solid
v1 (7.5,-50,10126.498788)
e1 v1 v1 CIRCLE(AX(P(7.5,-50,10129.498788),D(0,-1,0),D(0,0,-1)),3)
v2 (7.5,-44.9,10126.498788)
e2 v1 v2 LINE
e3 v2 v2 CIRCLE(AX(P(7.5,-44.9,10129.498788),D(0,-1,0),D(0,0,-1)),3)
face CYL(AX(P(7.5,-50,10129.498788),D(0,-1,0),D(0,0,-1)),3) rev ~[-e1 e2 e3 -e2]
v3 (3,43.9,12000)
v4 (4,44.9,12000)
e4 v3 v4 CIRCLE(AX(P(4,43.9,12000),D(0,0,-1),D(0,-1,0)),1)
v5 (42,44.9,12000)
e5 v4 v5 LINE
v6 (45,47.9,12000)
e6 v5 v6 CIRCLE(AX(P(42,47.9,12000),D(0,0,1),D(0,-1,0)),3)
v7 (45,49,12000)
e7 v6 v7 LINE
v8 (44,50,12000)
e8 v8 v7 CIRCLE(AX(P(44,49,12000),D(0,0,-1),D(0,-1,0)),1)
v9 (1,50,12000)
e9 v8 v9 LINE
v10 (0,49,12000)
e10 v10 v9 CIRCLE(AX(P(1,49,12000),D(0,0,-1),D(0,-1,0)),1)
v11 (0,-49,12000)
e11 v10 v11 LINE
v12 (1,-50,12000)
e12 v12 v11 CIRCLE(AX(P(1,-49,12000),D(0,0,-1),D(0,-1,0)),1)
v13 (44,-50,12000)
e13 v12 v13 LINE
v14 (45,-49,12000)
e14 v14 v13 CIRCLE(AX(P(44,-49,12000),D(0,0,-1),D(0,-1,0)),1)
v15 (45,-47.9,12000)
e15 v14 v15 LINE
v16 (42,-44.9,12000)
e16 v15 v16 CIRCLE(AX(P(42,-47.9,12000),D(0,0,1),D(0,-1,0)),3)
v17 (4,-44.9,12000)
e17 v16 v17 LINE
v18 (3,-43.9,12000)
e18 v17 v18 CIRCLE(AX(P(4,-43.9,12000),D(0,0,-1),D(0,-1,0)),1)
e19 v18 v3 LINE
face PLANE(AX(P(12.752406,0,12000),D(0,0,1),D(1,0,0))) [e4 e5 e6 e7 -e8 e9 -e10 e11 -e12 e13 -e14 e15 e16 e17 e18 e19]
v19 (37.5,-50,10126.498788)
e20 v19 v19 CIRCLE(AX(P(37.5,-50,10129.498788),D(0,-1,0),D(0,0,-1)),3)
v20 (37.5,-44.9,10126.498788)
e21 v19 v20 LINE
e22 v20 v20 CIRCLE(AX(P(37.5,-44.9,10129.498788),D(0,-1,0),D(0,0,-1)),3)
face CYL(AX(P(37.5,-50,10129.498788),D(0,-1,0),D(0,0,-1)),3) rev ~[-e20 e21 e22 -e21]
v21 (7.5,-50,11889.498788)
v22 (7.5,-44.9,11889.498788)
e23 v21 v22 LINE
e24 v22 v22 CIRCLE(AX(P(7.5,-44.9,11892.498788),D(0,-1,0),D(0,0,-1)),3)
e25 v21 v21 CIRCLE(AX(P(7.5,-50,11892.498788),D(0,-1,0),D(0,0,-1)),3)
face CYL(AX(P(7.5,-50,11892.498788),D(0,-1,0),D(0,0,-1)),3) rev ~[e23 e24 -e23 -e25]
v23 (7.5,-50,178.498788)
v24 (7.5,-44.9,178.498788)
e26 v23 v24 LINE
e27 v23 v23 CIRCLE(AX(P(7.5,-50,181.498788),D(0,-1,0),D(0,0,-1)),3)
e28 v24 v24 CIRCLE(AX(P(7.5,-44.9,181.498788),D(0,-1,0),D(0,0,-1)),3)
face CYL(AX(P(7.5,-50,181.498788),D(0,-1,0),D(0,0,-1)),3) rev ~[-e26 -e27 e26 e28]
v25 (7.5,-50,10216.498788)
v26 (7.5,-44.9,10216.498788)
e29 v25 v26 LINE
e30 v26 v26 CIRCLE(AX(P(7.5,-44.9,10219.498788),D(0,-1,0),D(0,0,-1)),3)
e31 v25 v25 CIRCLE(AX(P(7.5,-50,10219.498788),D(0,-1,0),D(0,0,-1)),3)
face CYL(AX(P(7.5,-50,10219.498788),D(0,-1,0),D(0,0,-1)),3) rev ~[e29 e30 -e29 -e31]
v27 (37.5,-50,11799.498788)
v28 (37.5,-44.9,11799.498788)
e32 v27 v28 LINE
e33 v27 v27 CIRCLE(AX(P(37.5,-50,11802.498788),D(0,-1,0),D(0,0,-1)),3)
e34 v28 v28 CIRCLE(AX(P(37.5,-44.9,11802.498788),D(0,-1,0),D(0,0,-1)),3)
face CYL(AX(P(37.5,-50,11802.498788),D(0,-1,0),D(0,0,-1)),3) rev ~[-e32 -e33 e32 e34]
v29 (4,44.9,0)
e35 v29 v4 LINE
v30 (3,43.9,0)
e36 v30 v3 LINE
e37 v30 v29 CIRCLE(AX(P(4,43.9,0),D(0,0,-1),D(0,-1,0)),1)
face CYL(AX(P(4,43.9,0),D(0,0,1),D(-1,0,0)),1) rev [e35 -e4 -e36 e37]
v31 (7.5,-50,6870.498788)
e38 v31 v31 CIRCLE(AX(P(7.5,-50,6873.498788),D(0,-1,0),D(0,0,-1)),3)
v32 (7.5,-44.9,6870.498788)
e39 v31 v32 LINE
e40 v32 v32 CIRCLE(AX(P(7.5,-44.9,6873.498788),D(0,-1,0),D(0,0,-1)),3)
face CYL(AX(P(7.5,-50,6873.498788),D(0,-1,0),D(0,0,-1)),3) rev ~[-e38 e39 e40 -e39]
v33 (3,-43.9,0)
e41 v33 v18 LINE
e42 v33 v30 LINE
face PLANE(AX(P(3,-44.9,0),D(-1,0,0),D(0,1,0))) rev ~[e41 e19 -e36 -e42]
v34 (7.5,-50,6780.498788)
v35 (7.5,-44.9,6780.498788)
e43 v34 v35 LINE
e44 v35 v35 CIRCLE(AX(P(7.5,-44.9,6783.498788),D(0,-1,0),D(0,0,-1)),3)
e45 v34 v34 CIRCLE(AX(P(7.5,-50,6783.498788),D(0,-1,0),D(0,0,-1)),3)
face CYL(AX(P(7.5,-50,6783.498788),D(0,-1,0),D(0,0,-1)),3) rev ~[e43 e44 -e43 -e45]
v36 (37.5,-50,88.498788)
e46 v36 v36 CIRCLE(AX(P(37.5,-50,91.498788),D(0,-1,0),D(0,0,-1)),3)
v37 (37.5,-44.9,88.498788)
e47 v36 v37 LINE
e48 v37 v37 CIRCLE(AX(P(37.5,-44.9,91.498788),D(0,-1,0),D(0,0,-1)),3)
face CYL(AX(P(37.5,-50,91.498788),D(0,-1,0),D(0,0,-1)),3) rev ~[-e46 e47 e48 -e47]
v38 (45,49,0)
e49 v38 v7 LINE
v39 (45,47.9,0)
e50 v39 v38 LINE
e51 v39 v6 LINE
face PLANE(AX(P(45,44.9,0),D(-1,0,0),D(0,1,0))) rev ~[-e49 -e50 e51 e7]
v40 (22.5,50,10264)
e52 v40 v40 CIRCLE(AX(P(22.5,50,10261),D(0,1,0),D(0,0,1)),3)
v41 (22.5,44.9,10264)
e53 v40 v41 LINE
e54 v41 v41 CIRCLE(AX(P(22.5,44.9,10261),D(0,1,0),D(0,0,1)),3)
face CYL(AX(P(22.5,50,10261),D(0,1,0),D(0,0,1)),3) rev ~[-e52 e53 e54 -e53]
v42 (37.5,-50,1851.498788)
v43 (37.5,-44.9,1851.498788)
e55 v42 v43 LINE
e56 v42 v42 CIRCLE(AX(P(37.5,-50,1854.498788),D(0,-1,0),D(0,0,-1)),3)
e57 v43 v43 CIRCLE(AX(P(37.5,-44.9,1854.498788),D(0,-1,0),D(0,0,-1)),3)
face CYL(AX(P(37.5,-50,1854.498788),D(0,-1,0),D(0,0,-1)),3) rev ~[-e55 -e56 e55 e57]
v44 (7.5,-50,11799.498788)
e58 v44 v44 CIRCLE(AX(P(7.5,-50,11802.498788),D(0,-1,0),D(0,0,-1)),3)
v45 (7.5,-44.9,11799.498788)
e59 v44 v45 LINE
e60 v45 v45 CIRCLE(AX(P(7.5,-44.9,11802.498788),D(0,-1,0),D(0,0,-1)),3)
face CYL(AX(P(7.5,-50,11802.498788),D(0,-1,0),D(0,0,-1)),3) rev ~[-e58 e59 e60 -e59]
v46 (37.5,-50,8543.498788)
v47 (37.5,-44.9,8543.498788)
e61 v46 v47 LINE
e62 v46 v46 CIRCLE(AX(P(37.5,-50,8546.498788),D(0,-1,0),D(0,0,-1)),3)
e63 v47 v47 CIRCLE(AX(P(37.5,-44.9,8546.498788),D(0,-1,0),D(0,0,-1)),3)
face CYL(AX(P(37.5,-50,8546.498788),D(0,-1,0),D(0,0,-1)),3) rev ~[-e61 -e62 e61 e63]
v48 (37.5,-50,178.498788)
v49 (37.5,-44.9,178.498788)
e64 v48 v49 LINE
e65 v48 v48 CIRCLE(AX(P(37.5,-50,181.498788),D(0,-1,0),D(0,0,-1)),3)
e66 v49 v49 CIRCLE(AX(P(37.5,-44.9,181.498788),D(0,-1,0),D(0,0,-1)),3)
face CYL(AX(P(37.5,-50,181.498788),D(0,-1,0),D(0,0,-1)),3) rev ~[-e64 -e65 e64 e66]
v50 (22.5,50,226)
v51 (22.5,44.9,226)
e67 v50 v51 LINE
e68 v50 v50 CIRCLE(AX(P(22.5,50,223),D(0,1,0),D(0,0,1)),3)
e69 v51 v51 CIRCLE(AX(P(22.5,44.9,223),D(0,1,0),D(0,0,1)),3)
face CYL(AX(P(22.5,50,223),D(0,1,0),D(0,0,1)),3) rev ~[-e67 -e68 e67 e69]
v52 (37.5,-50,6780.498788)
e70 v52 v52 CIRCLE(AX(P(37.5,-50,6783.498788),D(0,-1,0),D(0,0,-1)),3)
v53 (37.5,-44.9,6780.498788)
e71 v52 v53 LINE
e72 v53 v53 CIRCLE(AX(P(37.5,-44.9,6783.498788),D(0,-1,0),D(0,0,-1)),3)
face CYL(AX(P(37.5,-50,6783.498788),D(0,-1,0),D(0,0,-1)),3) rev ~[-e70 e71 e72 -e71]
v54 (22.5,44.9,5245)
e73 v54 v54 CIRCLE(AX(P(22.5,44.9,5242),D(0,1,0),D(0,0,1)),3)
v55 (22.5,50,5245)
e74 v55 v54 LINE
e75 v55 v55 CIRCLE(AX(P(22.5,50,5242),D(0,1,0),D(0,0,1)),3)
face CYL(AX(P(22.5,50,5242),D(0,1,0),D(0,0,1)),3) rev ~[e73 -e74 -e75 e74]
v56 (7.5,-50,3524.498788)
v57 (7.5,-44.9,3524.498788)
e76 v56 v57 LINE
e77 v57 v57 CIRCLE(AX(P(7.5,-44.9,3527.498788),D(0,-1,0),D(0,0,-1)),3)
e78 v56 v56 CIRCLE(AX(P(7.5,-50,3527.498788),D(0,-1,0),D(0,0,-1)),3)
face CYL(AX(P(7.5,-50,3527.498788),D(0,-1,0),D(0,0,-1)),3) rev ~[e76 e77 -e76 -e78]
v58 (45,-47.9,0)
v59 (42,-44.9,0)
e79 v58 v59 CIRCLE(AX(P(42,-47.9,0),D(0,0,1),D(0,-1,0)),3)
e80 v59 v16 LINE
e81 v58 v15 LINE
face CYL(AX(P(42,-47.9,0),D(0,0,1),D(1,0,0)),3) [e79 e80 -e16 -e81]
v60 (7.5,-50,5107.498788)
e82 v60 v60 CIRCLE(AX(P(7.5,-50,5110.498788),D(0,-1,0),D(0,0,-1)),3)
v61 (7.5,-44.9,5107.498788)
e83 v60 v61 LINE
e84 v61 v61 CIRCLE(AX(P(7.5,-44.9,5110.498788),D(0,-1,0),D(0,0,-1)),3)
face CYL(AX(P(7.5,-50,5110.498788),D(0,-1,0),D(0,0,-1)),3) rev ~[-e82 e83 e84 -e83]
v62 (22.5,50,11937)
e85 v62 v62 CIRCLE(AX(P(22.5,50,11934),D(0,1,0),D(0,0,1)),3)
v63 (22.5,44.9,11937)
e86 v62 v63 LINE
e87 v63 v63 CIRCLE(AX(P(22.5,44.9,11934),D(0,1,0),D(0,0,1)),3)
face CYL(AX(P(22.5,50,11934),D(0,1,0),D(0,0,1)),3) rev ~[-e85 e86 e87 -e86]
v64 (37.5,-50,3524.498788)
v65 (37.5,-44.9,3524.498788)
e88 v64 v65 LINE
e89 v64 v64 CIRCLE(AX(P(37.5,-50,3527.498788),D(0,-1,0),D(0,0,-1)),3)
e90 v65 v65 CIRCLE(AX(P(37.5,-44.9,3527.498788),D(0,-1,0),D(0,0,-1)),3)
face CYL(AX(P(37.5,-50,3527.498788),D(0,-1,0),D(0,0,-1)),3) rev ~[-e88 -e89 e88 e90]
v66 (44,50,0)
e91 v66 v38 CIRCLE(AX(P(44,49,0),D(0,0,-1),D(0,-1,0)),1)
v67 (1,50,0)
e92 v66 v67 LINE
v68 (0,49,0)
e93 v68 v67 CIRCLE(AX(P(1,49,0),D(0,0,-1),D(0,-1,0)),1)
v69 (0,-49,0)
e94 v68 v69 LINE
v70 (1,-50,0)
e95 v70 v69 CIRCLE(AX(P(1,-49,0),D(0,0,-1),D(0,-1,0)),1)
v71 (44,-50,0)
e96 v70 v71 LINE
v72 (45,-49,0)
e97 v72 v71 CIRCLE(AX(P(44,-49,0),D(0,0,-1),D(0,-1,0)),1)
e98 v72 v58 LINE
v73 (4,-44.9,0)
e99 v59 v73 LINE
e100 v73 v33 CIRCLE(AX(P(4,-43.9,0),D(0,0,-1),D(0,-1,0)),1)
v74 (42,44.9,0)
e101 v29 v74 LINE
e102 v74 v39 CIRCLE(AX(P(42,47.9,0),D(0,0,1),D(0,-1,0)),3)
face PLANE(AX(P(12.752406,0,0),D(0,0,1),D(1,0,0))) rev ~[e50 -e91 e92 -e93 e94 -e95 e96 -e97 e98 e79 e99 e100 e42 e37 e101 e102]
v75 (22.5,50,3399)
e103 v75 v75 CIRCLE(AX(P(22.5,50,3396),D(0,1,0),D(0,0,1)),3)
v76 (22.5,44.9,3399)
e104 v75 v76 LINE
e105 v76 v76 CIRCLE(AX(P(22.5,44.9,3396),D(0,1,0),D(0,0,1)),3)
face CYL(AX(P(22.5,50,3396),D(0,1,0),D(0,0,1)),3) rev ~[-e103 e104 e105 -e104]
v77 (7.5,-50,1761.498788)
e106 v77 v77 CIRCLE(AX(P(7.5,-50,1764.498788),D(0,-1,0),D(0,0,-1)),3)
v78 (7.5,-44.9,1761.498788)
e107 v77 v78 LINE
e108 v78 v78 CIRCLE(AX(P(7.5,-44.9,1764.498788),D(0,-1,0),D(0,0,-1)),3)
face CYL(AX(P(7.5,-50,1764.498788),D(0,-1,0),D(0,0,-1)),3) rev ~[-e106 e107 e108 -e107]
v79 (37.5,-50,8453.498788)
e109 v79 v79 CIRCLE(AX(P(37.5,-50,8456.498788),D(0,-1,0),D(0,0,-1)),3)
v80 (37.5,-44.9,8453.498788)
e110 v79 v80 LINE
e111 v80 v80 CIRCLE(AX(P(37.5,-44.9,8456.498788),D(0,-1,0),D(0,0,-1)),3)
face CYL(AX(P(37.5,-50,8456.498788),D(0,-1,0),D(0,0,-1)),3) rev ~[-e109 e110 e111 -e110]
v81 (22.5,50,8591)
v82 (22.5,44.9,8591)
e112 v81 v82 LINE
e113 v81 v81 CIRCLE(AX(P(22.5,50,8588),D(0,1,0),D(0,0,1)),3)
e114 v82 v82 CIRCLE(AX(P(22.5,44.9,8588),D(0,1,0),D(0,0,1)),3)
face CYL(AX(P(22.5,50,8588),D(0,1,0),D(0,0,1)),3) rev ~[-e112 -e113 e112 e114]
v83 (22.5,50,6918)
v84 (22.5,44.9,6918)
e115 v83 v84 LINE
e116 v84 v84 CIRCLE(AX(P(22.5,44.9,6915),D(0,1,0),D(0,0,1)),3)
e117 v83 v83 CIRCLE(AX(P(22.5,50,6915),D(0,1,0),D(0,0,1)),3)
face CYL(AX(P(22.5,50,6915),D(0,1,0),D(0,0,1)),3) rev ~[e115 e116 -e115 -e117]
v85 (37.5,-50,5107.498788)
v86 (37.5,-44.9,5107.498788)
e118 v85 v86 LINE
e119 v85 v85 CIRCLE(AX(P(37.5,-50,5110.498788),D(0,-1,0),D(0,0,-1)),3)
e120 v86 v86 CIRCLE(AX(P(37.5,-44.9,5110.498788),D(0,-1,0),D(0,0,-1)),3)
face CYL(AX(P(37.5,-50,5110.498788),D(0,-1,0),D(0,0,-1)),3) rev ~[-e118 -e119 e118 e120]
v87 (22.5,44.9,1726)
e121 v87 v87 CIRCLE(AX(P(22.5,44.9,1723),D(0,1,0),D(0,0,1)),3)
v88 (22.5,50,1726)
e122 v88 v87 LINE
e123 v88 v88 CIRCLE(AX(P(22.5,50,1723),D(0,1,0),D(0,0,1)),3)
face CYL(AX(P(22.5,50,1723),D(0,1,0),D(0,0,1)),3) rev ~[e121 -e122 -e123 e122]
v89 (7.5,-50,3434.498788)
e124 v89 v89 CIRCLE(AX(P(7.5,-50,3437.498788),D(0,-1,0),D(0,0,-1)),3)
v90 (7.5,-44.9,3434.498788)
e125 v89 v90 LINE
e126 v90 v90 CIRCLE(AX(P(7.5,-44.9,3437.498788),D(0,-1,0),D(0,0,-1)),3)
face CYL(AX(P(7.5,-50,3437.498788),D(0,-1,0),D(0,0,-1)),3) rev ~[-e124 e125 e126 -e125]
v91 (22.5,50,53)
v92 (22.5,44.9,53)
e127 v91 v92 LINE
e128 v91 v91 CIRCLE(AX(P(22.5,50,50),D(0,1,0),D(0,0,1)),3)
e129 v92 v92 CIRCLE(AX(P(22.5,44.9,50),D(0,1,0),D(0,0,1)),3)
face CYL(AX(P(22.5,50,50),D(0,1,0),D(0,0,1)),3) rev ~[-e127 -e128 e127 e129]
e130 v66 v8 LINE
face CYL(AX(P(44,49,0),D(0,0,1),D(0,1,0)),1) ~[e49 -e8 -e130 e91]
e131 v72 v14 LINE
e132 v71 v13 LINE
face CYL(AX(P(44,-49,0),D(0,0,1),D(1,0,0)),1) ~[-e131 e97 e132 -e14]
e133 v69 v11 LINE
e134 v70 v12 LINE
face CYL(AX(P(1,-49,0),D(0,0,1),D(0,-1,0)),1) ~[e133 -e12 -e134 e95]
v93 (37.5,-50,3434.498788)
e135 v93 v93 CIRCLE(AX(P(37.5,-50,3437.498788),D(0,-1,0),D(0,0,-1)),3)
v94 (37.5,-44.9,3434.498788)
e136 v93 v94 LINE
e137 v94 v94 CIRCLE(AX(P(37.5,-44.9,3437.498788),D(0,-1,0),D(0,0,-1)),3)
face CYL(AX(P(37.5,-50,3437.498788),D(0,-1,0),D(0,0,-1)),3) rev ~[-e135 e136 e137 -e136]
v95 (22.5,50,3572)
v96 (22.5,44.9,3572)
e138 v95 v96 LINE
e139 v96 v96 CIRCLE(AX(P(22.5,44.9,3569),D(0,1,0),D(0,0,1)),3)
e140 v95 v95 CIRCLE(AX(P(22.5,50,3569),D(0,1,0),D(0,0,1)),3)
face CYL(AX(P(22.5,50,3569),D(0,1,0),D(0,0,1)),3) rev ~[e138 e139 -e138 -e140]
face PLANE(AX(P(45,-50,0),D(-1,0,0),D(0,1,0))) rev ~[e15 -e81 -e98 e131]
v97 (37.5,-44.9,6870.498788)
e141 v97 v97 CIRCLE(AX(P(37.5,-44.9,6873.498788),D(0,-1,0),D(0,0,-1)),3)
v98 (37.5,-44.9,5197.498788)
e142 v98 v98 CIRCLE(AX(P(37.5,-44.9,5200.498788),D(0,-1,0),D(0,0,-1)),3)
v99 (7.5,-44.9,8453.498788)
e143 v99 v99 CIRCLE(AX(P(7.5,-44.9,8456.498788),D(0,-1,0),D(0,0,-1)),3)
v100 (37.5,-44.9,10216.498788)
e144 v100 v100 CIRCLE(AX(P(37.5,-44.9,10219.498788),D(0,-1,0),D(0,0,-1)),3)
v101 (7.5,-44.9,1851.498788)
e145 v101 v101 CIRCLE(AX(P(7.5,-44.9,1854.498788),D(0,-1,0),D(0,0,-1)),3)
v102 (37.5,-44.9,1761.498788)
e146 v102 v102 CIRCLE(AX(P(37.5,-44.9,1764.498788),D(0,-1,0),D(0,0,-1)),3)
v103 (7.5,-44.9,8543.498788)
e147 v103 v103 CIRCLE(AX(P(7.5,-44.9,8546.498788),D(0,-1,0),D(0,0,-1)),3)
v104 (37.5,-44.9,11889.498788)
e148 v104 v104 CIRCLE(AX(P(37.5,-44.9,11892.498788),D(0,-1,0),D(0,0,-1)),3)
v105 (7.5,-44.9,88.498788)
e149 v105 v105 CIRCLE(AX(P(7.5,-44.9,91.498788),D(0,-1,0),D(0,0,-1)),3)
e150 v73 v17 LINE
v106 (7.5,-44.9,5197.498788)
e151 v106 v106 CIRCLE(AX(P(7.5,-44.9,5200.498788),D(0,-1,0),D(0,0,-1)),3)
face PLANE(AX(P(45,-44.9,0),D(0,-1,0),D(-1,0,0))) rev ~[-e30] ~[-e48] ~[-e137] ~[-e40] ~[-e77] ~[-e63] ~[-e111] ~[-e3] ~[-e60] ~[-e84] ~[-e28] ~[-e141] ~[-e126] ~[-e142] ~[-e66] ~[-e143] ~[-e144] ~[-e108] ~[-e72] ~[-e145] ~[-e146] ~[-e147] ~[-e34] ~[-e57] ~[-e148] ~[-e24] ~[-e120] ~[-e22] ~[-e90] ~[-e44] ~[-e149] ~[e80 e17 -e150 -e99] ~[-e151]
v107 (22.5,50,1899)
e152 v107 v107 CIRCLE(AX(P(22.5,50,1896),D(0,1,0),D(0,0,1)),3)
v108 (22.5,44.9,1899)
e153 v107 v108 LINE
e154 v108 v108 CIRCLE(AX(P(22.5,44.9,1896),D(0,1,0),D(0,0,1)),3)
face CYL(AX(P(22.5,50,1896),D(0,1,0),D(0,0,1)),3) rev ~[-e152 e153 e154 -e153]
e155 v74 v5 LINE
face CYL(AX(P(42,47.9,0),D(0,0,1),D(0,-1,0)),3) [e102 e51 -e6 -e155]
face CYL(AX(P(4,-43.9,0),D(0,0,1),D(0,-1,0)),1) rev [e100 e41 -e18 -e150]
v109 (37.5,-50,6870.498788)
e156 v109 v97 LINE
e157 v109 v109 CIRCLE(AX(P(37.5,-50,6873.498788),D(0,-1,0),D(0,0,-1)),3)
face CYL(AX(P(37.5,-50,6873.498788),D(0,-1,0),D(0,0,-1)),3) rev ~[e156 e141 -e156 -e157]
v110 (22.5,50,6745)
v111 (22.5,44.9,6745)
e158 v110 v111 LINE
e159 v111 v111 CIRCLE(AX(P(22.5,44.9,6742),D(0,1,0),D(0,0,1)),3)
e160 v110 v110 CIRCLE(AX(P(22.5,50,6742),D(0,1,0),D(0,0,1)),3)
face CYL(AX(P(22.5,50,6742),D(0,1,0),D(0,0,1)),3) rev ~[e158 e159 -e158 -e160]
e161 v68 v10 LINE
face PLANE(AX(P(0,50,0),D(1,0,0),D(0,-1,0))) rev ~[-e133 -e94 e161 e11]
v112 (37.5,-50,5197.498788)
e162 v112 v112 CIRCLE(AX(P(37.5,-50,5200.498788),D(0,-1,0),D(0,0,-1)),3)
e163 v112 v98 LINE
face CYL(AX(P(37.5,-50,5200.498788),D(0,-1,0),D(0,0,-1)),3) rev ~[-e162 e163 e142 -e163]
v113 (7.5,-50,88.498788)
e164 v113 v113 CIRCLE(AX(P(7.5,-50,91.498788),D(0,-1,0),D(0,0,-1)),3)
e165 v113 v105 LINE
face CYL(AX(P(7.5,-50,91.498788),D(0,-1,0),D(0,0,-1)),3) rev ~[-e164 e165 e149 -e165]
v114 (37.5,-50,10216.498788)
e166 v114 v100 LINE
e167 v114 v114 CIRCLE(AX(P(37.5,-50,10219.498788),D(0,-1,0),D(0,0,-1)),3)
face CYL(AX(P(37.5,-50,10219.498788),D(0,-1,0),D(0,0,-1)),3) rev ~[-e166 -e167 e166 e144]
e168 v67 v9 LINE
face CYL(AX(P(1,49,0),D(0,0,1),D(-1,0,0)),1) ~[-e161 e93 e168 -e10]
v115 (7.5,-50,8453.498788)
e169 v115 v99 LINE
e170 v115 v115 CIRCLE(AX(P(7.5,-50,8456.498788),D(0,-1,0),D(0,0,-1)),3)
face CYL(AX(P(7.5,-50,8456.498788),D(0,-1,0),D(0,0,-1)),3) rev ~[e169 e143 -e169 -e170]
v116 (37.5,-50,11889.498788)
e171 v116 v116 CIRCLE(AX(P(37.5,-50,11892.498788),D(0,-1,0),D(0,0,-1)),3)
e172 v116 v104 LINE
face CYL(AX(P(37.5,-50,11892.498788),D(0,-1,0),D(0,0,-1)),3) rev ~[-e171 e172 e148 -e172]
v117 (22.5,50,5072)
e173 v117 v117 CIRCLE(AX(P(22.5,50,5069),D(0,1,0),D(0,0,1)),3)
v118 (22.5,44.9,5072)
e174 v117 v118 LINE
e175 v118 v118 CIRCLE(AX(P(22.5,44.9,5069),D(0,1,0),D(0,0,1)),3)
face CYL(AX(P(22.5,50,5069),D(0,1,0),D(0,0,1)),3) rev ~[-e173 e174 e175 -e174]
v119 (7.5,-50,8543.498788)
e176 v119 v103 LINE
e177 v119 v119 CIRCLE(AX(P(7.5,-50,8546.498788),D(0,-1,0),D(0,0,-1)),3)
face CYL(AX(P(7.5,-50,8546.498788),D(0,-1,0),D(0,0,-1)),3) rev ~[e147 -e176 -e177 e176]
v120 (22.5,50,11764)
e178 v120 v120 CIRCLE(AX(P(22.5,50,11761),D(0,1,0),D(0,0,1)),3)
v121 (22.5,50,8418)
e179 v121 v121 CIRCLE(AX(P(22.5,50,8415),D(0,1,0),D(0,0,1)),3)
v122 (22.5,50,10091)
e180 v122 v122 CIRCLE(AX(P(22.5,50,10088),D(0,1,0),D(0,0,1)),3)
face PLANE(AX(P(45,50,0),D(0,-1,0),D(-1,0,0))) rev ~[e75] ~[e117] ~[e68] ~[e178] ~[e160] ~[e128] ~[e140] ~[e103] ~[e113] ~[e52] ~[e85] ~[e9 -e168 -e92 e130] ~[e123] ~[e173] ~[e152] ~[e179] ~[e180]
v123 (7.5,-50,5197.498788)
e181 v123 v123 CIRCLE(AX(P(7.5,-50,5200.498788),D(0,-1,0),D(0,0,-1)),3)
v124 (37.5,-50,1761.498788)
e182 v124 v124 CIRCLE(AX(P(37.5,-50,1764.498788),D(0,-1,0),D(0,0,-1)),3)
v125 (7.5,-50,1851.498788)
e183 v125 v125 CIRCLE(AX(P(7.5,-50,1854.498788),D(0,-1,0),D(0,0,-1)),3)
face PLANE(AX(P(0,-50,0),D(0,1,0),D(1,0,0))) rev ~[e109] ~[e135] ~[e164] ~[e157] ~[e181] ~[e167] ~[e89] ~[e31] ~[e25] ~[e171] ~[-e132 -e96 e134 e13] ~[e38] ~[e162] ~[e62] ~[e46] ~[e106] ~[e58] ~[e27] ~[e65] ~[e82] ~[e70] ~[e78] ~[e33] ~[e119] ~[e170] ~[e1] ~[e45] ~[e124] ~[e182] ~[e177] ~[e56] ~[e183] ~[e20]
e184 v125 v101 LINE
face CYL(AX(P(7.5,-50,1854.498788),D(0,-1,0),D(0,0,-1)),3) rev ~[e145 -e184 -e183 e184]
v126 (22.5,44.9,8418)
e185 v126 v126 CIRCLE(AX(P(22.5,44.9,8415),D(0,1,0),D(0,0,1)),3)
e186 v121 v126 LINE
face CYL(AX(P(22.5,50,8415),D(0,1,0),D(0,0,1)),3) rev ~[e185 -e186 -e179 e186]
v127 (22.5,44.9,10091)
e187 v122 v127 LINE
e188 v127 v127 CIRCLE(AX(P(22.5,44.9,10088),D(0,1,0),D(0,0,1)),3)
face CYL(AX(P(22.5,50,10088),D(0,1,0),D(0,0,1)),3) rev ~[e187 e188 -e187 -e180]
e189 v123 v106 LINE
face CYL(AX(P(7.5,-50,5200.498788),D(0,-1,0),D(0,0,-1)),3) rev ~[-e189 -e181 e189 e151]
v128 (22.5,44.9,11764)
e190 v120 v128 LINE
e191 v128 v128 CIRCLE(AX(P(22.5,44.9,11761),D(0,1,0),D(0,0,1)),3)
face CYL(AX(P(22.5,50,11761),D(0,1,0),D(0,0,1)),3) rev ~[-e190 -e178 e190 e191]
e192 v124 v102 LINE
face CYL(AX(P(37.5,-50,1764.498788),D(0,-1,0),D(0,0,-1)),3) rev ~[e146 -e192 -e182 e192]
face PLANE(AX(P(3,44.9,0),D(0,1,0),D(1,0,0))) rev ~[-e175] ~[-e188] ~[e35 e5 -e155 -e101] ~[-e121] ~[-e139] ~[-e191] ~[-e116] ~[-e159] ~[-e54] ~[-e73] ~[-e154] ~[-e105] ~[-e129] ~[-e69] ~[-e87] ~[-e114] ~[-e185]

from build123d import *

# Parameters (mm, degrees)
BOSS_EXTRUDE1_DEPTH = 12000
FILLET1_R           = 3
FILLET2_R           = 1
FILLET3_R           = 1
CUT_EXTRUDE2_REACH  = 12002.501
SKETCH2_R           = 3
SKETCH5_R           = 3
CUT_EXTRUDE4_DEPTH  = 10


with BuildPart() as part:
    # Sketch1 → Boss-Extrude1 (new body)
    with BuildSketch(Plane.XY):
        Polygon((0, 50), (0, -50), (45, -50), (45, -44.9), (3, -44.9), (3, 44.9), (45, 44.9), (45, 50), align=None)
    extrude(amount=BOSS_EXTRUDE1_DEPTH)

    # Fillet1
    fillet1_edges = [part.edges().sort_by_distance(p)[0] for p in [
        (45, -44.9, 6000),
        (45, 44.9, 6000),
    ]]
    fillet(fillet1_edges, radius=FILLET1_R)

    # Fillet2
    fillet2_edges = [part.edges().sort_by_distance(p)[0] for p in [
        (45, -50, 6000),
        (0, -50, 6000),
        (0, 50, 6000),
        (45, 50, 6000),
    ]]
    fillet(fillet2_edges, radius=FILLET2_R)

    # Fillet3
    fillet3_edges = [part.edges().sort_by_distance(p)[0] for p in [
        (3, -44.9, 6000),
        (3, 44.9, 6000),
    ]]
    fillet(fillet3_edges, radius=FILLET3_R)

    # Sketch2 → Cut-Extrude2 (cut, up to next)
    with BuildSketch(Plane(origin=(0, 50, 0), x_dir=(1, 0, 0), z_dir=(0, 1, 0)), mode=Mode.PRIVATE) as cut_extrude2_sk1:
        with Locations(Location((22.5, -50, 0), (0, 0, 270))):
            Circle(SKETCH2_R)
    cut_extrude2_tool1 = extrude(cut_extrude2_sk1.sketch, amount=-CUT_EXTRUDE2_REACH, mode=Mode.PRIVATE) & part.part
    # Sketch2 → Cut-Extrude2 (cut, up to next)
    with BuildSketch(Plane(origin=(0, 50, 0), x_dir=(1, 0, 0), z_dir=(0, 1, 0)), mode=Mode.PRIVATE) as cut_extrude2_sk2:
        with Locations(Location((22.5, -223, 0), (0, 0, 270))):
            Circle(SKETCH2_R)
    cut_extrude2_tool2 = extrude(cut_extrude2_sk2.sketch, amount=-CUT_EXTRUDE2_REACH, mode=Mode.PRIVATE) & part.part
    # Sketch2 → Cut-Extrude2 (cut, up to next)
    with BuildSketch(Plane(origin=(0, 50, 0), x_dir=(1, 0, 0), z_dir=(0, 1, 0)), mode=Mode.PRIVATE) as cut_extrude2_sk3:
        with Locations(Location((22.5, -1723, 0), (0, 0, 270))):
            Circle(SKETCH2_R)
    cut_extrude2_tool3 = extrude(cut_extrude2_sk3.sketch, amount=-CUT_EXTRUDE2_REACH, mode=Mode.PRIVATE) & part.part
    # Sketch2 → Cut-Extrude2 (cut, up to next)
    with BuildSketch(Plane(origin=(0, 50, 0), x_dir=(1, 0, 0), z_dir=(0, 1, 0)), mode=Mode.PRIVATE) as cut_extrude2_sk4:
        with Locations(Location((22.5, -1896, 0), (0, 0, 270))):
            Circle(SKETCH2_R)
    cut_extrude2_tool4 = extrude(cut_extrude2_sk4.sketch, amount=-CUT_EXTRUDE2_REACH, mode=Mode.PRIVATE) & part.part
    # Sketch2 → Cut-Extrude2 (cut, up to next)
    with BuildSketch(Plane(origin=(0, 50, 0), x_dir=(1, 0, 0), z_dir=(0, 1, 0)), mode=Mode.PRIVATE) as cut_extrude2_sk5:
        with Locations(Location((22.5, -3396, 0), (0, 0, 270))):
            Circle(SKETCH2_R)
    cut_extrude2_tool5 = extrude(cut_extrude2_sk5.sketch, amount=-CUT_EXTRUDE2_REACH, mode=Mode.PRIVATE) & part.part
    # Sketch2 → Cut-Extrude2 (cut, up to next)
    with BuildSketch(Plane(origin=(0, 50, 0), x_dir=(1, 0, 0), z_dir=(0, 1, 0)), mode=Mode.PRIVATE) as cut_extrude2_sk6:
        with Locations(Location((22.5, -3569, 0), (0, 0, 270))):
            Circle(SKETCH2_R)
    cut_extrude2_tool6 = extrude(cut_extrude2_sk6.sketch, amount=-CUT_EXTRUDE2_REACH, mode=Mode.PRIVATE) & part.part
    # Sketch2 → Cut-Extrude2 (cut, up to next)
    with BuildSketch(Plane(origin=(0, 50, 0), x_dir=(1, 0, 0), z_dir=(0, 1, 0)), mode=Mode.PRIVATE) as cut_extrude2_sk7:
        with Locations(Location((22.5, -5069, 0), (0, 0, 270))):
            Circle(SKETCH2_R)
    cut_extrude2_tool7 = extrude(cut_extrude2_sk7.sketch, amount=-CUT_EXTRUDE2_REACH, mode=Mode.PRIVATE) & part.part
    # Sketch2 → Cut-Extrude2 (cut, up to next)
    with BuildSketch(Plane(origin=(0, 50, 0), x_dir=(1, 0, 0), z_dir=(0, 1, 0)), mode=Mode.PRIVATE) as cut_extrude2_sk8:
        with Locations(Location((22.5, -5242, 0), (0, 0, 270))):
            Circle(SKETCH2_R)
    cut_extrude2_tool8 = extrude(cut_extrude2_sk8.sketch, amount=-CUT_EXTRUDE2_REACH, mode=Mode.PRIVATE) & part.part
    # Sketch2 → Cut-Extrude2 (cut, up to next)
    with BuildSketch(Plane(origin=(0, 50, 0), x_dir=(1, 0, 0), z_dir=(0, 1, 0)), mode=Mode.PRIVATE) as cut_extrude2_sk9:
        with Locations(Location((22.5, -6742, 0), (0, 0, 270))):
            Circle(SKETCH2_R)
    cut_extrude2_tool9 = extrude(cut_extrude2_sk9.sketch, amount=-CUT_EXTRUDE2_REACH, mode=Mode.PRIVATE) & part.part
    # Sketch2 → Cut-Extrude2 (cut, up to next)
    with BuildSketch(Plane(origin=(0, 50, 0), x_dir=(1, 0, 0), z_dir=(0, 1, 0)), mode=Mode.PRIVATE) as cut_extrude2_sk10:
        with Locations(Location((22.5, -6915, 0), (0, 0, 270))):
            Circle(SKETCH2_R)
    cut_extrude2_tool10 = extrude(cut_extrude2_sk10.sketch, amount=-CUT_EXTRUDE2_REACH, mode=Mode.PRIVATE) & part.part
    # Sketch2 → Cut-Extrude2 (cut, up to next)
    with BuildSketch(Plane(origin=(0, 50, 0), x_dir=(1, 0, 0), z_dir=(0, 1, 0)), mode=Mode.PRIVATE) as cut_extrude2_sk11:
        with Locations(Location((22.5, -8415, 0), (0, 0, 270))):
            Circle(SKETCH2_R)
    cut_extrude2_tool11 = extrude(cut_extrude2_sk11.sketch, amount=-CUT_EXTRUDE2_REACH, mode=Mode.PRIVATE) & part.part
    # Sketch2 → Cut-Extrude2 (cut, up to next)
    with BuildSketch(Plane(origin=(0, 50, 0), x_dir=(1, 0, 0), z_dir=(0, 1, 0)), mode=Mode.PRIVATE) as cut_extrude2_sk12:
        with Locations(Location((22.5, -8588, 0), (0, 0, 270))):
            Circle(SKETCH2_R)
    cut_extrude2_tool12 = extrude(cut_extrude2_sk12.sketch, amount=-CUT_EXTRUDE2_REACH, mode=Mode.PRIVATE) & part.part
    # Sketch2 → Cut-Extrude2 (cut, up to next)
    with BuildSketch(Plane(origin=(0, 50, 0), x_dir=(1, 0, 0), z_dir=(0, 1, 0)), mode=Mode.PRIVATE) as cut_extrude2_sk13:
        with Locations(Location((22.5, -10088, 0), (0, 0, 270))):
            Circle(SKETCH2_R)
    cut_extrude2_tool13 = extrude(cut_extrude2_sk13.sketch, amount=-CUT_EXTRUDE2_REACH, mode=Mode.PRIVATE) & part.part
    # Sketch2 → Cut-Extrude2 (cut, up to next)
    with BuildSketch(Plane(origin=(0, 50, 0), x_dir=(1, 0, 0), z_dir=(0, 1, 0)), mode=Mode.PRIVATE) as cut_extrude2_sk14:
        with Locations(Location((22.5, -10261, 0), (0, 0, 270))):
            Circle(SKETCH2_R)
    cut_extrude2_tool14 = extrude(cut_extrude2_sk14.sketch, amount=-CUT_EXTRUDE2_REACH, mode=Mode.PRIVATE) & part.part
    # Sketch2 → Cut-Extrude2 (cut, up to next)
    with BuildSketch(Plane(origin=(0, 50, 0), x_dir=(1, 0, 0), z_dir=(0, 1, 0)), mode=Mode.PRIVATE) as cut_extrude2_sk15:
        with Locations(Location((22.5, -11761, 0), (0, 0, 270))):
            Circle(SKETCH2_R)
    cut_extrude2_tool15 = extrude(cut_extrude2_sk15.sketch, amount=-CUT_EXTRUDE2_REACH, mode=Mode.PRIVATE) & part.part
    # Sketch2 → Cut-Extrude2 (cut, up to next)
    with BuildSketch(Plane(origin=(0, 50, 0), x_dir=(1, 0, 0), z_dir=(0, 1, 0)), mode=Mode.PRIVATE) as cut_extrude2_sk16:
        with Locations(Location((22.5, -11934, 0), (0, 0, 270))):
            Circle(SKETCH2_R)
    cut_extrude2_tool16 = extrude(cut_extrude2_sk16.sketch, amount=-CUT_EXTRUDE2_REACH, mode=Mode.PRIVATE) & part.part
    add(cut_extrude2_tool1.solids().sort_by_distance((22.5, 50, 50))[0], mode=Mode.SUBTRACT)
    add(cut_extrude2_tool2.solids().sort_by_distance((22.5, 50, 223))[0], mode=Mode.SUBTRACT)
    add(cut_extrude2_tool3.solids().sort_by_distance((22.5, 50, 1723))[0], mode=Mode.SUBTRACT)
    add(cut_extrude2_tool4.solids().sort_by_distance((22.5, 50, 1896))[0], mode=Mode.SUBTRACT)
    add(cut_extrude2_tool5.solids().sort_by_distance((22.5, 50, 3396))[0], mode=Mode.SUBTRACT)
    add(cut_extrude2_tool6.solids().sort_by_distance((22.5, 50, 3569))[0], mode=Mode.SUBTRACT)
    add(cut_extrude2_tool7.solids().sort_by_distance((22.5, 50, 5069))[0], mode=Mode.SUBTRACT)
    add(cut_extrude2_tool8.solids().sort_by_distance((22.5, 50, 5242))[0], mode=Mode.SUBTRACT)
    add(cut_extrude2_tool9.solids().sort_by_distance((22.5, 50, 6742))[0], mode=Mode.SUBTRACT)
    add(cut_extrude2_tool10.solids().sort_by_distance((22.5, 50, 6915))[0], mode=Mode.SUBTRACT)
    add(cut_extrude2_tool11.solids().sort_by_distance((22.5, 50, 8415))[0], mode=Mode.SUBTRACT)
    add(cut_extrude2_tool12.solids().sort_by_distance((22.5, 50, 8588))[0], mode=Mode.SUBTRACT)
    add(cut_extrude2_tool13.solids().sort_by_distance((22.5, 50, 10088))[0], mode=Mode.SUBTRACT)
    add(cut_extrude2_tool14.solids().sort_by_distance((22.5, 50, 10261))[0], mode=Mode.SUBTRACT)
    add(cut_extrude2_tool15.solids().sort_by_distance((22.5, 50, 11761))[0], mode=Mode.SUBTRACT)
    add(cut_extrude2_tool16.solids().sort_by_distance((22.5, 50, 11934))[0], mode=Mode.SUBTRACT)

    # Sketch5 → Cut-Extrude4 (cut)
    with BuildSketch(Plane.XZ.offset(50)):
        with Locations(Location((7.5, 10219.498787975, 0), (0, 0, 270))):
            Circle(SKETCH5_R)
        with Locations(Location((37.5, 10219.498787975, 0), (0, 0, 270))):
            Circle(SKETCH5_R)
        with Locations(Location((37.5, 10129.498787975, 0), (0, 0, 270))):
            Circle(SKETCH5_R)
        with Locations(Location((7.5, 10129.498787975, 0), (0, 0, 270))):
            Circle(SKETCH5_R)
        with Locations(Location((7.5, 8546.498787975, 0), (0, 0, 270))):
            Circle(SKETCH5_R)
        with Locations(Location((37.5, 8546.498787975, 0), (0, 0, 270))):
            Circle(SKETCH5_R)
        with Locations(Location((37.5, 8456.498787975, 0), (0, 0, 270))):
            Circle(SKETCH5_R)
        with Locations(Location((7.5, 8456.498787975, 0), (0, 0, 270))):
            Circle(SKETCH5_R)
        with Locations(Location((7.5, 6873.498787975, 0), (0, 0, 270))):
            Circle(SKETCH5_R)
        with Locations(Location((37.5, 6873.498787975, 0), (0, 0, 270))):
            Circle(SKETCH5_R)
        with Locations(Location((37.5, 6783.498787975, 0), (0, 0, 270))):
            Circle(SKETCH5_R)
        with Locations(Location((7.5, 6783.498787975, 0), (0, 0, 270))):
            Circle(SKETCH5_R)
        with Locations(Location((7.5, 5200.498787975, 0), (0, 0, 270))):
            Circle(SKETCH5_R)
        with Locations(Location((37.5, 5200.498787975, 0), (0, 0, 270))):
            Circle(SKETCH5_R)
        with Locations(Location((37.5, 5110.498787975, 0), (0, 0, 270))):
            Circle(SKETCH5_R)
        with Locations(Location((7.5, 5110.498787975, 0), (0, 0, 270))):
            Circle(SKETCH5_R)
        with Locations(Location((7.5, 3527.498787975, 0), (0, 0, 270))):
            Circle(SKETCH5_R)
        with Locations(Location((37.5, 3527.498787975, 0), (0, 0, 270))):
            Circle(SKETCH5_R)
        with Locations(Location((37.5, 3437.498787975, 0), (0, 0, 270))):
            Circle(SKETCH5_R)
        with Locations(Location((7.5, 3437.498787975, 0), (0, 0, 270))):
            Circle(SKETCH5_R)
        with Locations(Location((7.5, 1854.498787975, 0), (0, 0, 270))):
            Circle(SKETCH5_R)
        with Locations(Location((37.5, 1854.498787975, 0), (0, 0, 270))):
            Circle(SKETCH5_R)
        with Locations(Location((37.5, 1764.498787975, 0), (0, 0, 270))):
            Circle(SKETCH5_R)
        with Locations(Location((7.5, 1764.498787975, 0), (0, 0, 270))):
            Circle(SKETCH5_R)
        with Locations(Location((7.5, 181.498787975, 0), (0, 0, 270))):
            Circle(SKETCH5_R)
        with Locations(Location((37.5, 181.498787975, 0), (0, 0, 270))):
            Circle(SKETCH5_R)
        with Locations(Location((37.5, 91.498787975, 0), (0, 0, 270))):
            Circle(SKETCH5_R)
        with Locations(Location((7.5, 91.498787975, 0), (0, 0, 270))):
            Circle(SKETCH5_R)
        with Locations(Location((7.5, 11892.498787975, 0), (0, 0, 270))):
            Circle(SKETCH5_R)
        with Locations(Location((37.5, 11892.498787975, 0), (0, 0, 270))):
            Circle(SKETCH5_R)
        with Locations(Location((37.5, 11802.498787975, 0), (0, 0, 270))):
            Circle(SKETCH5_R)
        with Locations(Location((7.5, 11802.498787975, 0), (0, 0, 270))):
            Circle(SKETCH5_R)
    extrude(amount=-CUT_EXTRUDE4_DEPTH, mode=Mode.SUBTRACT)


solid = part.part
